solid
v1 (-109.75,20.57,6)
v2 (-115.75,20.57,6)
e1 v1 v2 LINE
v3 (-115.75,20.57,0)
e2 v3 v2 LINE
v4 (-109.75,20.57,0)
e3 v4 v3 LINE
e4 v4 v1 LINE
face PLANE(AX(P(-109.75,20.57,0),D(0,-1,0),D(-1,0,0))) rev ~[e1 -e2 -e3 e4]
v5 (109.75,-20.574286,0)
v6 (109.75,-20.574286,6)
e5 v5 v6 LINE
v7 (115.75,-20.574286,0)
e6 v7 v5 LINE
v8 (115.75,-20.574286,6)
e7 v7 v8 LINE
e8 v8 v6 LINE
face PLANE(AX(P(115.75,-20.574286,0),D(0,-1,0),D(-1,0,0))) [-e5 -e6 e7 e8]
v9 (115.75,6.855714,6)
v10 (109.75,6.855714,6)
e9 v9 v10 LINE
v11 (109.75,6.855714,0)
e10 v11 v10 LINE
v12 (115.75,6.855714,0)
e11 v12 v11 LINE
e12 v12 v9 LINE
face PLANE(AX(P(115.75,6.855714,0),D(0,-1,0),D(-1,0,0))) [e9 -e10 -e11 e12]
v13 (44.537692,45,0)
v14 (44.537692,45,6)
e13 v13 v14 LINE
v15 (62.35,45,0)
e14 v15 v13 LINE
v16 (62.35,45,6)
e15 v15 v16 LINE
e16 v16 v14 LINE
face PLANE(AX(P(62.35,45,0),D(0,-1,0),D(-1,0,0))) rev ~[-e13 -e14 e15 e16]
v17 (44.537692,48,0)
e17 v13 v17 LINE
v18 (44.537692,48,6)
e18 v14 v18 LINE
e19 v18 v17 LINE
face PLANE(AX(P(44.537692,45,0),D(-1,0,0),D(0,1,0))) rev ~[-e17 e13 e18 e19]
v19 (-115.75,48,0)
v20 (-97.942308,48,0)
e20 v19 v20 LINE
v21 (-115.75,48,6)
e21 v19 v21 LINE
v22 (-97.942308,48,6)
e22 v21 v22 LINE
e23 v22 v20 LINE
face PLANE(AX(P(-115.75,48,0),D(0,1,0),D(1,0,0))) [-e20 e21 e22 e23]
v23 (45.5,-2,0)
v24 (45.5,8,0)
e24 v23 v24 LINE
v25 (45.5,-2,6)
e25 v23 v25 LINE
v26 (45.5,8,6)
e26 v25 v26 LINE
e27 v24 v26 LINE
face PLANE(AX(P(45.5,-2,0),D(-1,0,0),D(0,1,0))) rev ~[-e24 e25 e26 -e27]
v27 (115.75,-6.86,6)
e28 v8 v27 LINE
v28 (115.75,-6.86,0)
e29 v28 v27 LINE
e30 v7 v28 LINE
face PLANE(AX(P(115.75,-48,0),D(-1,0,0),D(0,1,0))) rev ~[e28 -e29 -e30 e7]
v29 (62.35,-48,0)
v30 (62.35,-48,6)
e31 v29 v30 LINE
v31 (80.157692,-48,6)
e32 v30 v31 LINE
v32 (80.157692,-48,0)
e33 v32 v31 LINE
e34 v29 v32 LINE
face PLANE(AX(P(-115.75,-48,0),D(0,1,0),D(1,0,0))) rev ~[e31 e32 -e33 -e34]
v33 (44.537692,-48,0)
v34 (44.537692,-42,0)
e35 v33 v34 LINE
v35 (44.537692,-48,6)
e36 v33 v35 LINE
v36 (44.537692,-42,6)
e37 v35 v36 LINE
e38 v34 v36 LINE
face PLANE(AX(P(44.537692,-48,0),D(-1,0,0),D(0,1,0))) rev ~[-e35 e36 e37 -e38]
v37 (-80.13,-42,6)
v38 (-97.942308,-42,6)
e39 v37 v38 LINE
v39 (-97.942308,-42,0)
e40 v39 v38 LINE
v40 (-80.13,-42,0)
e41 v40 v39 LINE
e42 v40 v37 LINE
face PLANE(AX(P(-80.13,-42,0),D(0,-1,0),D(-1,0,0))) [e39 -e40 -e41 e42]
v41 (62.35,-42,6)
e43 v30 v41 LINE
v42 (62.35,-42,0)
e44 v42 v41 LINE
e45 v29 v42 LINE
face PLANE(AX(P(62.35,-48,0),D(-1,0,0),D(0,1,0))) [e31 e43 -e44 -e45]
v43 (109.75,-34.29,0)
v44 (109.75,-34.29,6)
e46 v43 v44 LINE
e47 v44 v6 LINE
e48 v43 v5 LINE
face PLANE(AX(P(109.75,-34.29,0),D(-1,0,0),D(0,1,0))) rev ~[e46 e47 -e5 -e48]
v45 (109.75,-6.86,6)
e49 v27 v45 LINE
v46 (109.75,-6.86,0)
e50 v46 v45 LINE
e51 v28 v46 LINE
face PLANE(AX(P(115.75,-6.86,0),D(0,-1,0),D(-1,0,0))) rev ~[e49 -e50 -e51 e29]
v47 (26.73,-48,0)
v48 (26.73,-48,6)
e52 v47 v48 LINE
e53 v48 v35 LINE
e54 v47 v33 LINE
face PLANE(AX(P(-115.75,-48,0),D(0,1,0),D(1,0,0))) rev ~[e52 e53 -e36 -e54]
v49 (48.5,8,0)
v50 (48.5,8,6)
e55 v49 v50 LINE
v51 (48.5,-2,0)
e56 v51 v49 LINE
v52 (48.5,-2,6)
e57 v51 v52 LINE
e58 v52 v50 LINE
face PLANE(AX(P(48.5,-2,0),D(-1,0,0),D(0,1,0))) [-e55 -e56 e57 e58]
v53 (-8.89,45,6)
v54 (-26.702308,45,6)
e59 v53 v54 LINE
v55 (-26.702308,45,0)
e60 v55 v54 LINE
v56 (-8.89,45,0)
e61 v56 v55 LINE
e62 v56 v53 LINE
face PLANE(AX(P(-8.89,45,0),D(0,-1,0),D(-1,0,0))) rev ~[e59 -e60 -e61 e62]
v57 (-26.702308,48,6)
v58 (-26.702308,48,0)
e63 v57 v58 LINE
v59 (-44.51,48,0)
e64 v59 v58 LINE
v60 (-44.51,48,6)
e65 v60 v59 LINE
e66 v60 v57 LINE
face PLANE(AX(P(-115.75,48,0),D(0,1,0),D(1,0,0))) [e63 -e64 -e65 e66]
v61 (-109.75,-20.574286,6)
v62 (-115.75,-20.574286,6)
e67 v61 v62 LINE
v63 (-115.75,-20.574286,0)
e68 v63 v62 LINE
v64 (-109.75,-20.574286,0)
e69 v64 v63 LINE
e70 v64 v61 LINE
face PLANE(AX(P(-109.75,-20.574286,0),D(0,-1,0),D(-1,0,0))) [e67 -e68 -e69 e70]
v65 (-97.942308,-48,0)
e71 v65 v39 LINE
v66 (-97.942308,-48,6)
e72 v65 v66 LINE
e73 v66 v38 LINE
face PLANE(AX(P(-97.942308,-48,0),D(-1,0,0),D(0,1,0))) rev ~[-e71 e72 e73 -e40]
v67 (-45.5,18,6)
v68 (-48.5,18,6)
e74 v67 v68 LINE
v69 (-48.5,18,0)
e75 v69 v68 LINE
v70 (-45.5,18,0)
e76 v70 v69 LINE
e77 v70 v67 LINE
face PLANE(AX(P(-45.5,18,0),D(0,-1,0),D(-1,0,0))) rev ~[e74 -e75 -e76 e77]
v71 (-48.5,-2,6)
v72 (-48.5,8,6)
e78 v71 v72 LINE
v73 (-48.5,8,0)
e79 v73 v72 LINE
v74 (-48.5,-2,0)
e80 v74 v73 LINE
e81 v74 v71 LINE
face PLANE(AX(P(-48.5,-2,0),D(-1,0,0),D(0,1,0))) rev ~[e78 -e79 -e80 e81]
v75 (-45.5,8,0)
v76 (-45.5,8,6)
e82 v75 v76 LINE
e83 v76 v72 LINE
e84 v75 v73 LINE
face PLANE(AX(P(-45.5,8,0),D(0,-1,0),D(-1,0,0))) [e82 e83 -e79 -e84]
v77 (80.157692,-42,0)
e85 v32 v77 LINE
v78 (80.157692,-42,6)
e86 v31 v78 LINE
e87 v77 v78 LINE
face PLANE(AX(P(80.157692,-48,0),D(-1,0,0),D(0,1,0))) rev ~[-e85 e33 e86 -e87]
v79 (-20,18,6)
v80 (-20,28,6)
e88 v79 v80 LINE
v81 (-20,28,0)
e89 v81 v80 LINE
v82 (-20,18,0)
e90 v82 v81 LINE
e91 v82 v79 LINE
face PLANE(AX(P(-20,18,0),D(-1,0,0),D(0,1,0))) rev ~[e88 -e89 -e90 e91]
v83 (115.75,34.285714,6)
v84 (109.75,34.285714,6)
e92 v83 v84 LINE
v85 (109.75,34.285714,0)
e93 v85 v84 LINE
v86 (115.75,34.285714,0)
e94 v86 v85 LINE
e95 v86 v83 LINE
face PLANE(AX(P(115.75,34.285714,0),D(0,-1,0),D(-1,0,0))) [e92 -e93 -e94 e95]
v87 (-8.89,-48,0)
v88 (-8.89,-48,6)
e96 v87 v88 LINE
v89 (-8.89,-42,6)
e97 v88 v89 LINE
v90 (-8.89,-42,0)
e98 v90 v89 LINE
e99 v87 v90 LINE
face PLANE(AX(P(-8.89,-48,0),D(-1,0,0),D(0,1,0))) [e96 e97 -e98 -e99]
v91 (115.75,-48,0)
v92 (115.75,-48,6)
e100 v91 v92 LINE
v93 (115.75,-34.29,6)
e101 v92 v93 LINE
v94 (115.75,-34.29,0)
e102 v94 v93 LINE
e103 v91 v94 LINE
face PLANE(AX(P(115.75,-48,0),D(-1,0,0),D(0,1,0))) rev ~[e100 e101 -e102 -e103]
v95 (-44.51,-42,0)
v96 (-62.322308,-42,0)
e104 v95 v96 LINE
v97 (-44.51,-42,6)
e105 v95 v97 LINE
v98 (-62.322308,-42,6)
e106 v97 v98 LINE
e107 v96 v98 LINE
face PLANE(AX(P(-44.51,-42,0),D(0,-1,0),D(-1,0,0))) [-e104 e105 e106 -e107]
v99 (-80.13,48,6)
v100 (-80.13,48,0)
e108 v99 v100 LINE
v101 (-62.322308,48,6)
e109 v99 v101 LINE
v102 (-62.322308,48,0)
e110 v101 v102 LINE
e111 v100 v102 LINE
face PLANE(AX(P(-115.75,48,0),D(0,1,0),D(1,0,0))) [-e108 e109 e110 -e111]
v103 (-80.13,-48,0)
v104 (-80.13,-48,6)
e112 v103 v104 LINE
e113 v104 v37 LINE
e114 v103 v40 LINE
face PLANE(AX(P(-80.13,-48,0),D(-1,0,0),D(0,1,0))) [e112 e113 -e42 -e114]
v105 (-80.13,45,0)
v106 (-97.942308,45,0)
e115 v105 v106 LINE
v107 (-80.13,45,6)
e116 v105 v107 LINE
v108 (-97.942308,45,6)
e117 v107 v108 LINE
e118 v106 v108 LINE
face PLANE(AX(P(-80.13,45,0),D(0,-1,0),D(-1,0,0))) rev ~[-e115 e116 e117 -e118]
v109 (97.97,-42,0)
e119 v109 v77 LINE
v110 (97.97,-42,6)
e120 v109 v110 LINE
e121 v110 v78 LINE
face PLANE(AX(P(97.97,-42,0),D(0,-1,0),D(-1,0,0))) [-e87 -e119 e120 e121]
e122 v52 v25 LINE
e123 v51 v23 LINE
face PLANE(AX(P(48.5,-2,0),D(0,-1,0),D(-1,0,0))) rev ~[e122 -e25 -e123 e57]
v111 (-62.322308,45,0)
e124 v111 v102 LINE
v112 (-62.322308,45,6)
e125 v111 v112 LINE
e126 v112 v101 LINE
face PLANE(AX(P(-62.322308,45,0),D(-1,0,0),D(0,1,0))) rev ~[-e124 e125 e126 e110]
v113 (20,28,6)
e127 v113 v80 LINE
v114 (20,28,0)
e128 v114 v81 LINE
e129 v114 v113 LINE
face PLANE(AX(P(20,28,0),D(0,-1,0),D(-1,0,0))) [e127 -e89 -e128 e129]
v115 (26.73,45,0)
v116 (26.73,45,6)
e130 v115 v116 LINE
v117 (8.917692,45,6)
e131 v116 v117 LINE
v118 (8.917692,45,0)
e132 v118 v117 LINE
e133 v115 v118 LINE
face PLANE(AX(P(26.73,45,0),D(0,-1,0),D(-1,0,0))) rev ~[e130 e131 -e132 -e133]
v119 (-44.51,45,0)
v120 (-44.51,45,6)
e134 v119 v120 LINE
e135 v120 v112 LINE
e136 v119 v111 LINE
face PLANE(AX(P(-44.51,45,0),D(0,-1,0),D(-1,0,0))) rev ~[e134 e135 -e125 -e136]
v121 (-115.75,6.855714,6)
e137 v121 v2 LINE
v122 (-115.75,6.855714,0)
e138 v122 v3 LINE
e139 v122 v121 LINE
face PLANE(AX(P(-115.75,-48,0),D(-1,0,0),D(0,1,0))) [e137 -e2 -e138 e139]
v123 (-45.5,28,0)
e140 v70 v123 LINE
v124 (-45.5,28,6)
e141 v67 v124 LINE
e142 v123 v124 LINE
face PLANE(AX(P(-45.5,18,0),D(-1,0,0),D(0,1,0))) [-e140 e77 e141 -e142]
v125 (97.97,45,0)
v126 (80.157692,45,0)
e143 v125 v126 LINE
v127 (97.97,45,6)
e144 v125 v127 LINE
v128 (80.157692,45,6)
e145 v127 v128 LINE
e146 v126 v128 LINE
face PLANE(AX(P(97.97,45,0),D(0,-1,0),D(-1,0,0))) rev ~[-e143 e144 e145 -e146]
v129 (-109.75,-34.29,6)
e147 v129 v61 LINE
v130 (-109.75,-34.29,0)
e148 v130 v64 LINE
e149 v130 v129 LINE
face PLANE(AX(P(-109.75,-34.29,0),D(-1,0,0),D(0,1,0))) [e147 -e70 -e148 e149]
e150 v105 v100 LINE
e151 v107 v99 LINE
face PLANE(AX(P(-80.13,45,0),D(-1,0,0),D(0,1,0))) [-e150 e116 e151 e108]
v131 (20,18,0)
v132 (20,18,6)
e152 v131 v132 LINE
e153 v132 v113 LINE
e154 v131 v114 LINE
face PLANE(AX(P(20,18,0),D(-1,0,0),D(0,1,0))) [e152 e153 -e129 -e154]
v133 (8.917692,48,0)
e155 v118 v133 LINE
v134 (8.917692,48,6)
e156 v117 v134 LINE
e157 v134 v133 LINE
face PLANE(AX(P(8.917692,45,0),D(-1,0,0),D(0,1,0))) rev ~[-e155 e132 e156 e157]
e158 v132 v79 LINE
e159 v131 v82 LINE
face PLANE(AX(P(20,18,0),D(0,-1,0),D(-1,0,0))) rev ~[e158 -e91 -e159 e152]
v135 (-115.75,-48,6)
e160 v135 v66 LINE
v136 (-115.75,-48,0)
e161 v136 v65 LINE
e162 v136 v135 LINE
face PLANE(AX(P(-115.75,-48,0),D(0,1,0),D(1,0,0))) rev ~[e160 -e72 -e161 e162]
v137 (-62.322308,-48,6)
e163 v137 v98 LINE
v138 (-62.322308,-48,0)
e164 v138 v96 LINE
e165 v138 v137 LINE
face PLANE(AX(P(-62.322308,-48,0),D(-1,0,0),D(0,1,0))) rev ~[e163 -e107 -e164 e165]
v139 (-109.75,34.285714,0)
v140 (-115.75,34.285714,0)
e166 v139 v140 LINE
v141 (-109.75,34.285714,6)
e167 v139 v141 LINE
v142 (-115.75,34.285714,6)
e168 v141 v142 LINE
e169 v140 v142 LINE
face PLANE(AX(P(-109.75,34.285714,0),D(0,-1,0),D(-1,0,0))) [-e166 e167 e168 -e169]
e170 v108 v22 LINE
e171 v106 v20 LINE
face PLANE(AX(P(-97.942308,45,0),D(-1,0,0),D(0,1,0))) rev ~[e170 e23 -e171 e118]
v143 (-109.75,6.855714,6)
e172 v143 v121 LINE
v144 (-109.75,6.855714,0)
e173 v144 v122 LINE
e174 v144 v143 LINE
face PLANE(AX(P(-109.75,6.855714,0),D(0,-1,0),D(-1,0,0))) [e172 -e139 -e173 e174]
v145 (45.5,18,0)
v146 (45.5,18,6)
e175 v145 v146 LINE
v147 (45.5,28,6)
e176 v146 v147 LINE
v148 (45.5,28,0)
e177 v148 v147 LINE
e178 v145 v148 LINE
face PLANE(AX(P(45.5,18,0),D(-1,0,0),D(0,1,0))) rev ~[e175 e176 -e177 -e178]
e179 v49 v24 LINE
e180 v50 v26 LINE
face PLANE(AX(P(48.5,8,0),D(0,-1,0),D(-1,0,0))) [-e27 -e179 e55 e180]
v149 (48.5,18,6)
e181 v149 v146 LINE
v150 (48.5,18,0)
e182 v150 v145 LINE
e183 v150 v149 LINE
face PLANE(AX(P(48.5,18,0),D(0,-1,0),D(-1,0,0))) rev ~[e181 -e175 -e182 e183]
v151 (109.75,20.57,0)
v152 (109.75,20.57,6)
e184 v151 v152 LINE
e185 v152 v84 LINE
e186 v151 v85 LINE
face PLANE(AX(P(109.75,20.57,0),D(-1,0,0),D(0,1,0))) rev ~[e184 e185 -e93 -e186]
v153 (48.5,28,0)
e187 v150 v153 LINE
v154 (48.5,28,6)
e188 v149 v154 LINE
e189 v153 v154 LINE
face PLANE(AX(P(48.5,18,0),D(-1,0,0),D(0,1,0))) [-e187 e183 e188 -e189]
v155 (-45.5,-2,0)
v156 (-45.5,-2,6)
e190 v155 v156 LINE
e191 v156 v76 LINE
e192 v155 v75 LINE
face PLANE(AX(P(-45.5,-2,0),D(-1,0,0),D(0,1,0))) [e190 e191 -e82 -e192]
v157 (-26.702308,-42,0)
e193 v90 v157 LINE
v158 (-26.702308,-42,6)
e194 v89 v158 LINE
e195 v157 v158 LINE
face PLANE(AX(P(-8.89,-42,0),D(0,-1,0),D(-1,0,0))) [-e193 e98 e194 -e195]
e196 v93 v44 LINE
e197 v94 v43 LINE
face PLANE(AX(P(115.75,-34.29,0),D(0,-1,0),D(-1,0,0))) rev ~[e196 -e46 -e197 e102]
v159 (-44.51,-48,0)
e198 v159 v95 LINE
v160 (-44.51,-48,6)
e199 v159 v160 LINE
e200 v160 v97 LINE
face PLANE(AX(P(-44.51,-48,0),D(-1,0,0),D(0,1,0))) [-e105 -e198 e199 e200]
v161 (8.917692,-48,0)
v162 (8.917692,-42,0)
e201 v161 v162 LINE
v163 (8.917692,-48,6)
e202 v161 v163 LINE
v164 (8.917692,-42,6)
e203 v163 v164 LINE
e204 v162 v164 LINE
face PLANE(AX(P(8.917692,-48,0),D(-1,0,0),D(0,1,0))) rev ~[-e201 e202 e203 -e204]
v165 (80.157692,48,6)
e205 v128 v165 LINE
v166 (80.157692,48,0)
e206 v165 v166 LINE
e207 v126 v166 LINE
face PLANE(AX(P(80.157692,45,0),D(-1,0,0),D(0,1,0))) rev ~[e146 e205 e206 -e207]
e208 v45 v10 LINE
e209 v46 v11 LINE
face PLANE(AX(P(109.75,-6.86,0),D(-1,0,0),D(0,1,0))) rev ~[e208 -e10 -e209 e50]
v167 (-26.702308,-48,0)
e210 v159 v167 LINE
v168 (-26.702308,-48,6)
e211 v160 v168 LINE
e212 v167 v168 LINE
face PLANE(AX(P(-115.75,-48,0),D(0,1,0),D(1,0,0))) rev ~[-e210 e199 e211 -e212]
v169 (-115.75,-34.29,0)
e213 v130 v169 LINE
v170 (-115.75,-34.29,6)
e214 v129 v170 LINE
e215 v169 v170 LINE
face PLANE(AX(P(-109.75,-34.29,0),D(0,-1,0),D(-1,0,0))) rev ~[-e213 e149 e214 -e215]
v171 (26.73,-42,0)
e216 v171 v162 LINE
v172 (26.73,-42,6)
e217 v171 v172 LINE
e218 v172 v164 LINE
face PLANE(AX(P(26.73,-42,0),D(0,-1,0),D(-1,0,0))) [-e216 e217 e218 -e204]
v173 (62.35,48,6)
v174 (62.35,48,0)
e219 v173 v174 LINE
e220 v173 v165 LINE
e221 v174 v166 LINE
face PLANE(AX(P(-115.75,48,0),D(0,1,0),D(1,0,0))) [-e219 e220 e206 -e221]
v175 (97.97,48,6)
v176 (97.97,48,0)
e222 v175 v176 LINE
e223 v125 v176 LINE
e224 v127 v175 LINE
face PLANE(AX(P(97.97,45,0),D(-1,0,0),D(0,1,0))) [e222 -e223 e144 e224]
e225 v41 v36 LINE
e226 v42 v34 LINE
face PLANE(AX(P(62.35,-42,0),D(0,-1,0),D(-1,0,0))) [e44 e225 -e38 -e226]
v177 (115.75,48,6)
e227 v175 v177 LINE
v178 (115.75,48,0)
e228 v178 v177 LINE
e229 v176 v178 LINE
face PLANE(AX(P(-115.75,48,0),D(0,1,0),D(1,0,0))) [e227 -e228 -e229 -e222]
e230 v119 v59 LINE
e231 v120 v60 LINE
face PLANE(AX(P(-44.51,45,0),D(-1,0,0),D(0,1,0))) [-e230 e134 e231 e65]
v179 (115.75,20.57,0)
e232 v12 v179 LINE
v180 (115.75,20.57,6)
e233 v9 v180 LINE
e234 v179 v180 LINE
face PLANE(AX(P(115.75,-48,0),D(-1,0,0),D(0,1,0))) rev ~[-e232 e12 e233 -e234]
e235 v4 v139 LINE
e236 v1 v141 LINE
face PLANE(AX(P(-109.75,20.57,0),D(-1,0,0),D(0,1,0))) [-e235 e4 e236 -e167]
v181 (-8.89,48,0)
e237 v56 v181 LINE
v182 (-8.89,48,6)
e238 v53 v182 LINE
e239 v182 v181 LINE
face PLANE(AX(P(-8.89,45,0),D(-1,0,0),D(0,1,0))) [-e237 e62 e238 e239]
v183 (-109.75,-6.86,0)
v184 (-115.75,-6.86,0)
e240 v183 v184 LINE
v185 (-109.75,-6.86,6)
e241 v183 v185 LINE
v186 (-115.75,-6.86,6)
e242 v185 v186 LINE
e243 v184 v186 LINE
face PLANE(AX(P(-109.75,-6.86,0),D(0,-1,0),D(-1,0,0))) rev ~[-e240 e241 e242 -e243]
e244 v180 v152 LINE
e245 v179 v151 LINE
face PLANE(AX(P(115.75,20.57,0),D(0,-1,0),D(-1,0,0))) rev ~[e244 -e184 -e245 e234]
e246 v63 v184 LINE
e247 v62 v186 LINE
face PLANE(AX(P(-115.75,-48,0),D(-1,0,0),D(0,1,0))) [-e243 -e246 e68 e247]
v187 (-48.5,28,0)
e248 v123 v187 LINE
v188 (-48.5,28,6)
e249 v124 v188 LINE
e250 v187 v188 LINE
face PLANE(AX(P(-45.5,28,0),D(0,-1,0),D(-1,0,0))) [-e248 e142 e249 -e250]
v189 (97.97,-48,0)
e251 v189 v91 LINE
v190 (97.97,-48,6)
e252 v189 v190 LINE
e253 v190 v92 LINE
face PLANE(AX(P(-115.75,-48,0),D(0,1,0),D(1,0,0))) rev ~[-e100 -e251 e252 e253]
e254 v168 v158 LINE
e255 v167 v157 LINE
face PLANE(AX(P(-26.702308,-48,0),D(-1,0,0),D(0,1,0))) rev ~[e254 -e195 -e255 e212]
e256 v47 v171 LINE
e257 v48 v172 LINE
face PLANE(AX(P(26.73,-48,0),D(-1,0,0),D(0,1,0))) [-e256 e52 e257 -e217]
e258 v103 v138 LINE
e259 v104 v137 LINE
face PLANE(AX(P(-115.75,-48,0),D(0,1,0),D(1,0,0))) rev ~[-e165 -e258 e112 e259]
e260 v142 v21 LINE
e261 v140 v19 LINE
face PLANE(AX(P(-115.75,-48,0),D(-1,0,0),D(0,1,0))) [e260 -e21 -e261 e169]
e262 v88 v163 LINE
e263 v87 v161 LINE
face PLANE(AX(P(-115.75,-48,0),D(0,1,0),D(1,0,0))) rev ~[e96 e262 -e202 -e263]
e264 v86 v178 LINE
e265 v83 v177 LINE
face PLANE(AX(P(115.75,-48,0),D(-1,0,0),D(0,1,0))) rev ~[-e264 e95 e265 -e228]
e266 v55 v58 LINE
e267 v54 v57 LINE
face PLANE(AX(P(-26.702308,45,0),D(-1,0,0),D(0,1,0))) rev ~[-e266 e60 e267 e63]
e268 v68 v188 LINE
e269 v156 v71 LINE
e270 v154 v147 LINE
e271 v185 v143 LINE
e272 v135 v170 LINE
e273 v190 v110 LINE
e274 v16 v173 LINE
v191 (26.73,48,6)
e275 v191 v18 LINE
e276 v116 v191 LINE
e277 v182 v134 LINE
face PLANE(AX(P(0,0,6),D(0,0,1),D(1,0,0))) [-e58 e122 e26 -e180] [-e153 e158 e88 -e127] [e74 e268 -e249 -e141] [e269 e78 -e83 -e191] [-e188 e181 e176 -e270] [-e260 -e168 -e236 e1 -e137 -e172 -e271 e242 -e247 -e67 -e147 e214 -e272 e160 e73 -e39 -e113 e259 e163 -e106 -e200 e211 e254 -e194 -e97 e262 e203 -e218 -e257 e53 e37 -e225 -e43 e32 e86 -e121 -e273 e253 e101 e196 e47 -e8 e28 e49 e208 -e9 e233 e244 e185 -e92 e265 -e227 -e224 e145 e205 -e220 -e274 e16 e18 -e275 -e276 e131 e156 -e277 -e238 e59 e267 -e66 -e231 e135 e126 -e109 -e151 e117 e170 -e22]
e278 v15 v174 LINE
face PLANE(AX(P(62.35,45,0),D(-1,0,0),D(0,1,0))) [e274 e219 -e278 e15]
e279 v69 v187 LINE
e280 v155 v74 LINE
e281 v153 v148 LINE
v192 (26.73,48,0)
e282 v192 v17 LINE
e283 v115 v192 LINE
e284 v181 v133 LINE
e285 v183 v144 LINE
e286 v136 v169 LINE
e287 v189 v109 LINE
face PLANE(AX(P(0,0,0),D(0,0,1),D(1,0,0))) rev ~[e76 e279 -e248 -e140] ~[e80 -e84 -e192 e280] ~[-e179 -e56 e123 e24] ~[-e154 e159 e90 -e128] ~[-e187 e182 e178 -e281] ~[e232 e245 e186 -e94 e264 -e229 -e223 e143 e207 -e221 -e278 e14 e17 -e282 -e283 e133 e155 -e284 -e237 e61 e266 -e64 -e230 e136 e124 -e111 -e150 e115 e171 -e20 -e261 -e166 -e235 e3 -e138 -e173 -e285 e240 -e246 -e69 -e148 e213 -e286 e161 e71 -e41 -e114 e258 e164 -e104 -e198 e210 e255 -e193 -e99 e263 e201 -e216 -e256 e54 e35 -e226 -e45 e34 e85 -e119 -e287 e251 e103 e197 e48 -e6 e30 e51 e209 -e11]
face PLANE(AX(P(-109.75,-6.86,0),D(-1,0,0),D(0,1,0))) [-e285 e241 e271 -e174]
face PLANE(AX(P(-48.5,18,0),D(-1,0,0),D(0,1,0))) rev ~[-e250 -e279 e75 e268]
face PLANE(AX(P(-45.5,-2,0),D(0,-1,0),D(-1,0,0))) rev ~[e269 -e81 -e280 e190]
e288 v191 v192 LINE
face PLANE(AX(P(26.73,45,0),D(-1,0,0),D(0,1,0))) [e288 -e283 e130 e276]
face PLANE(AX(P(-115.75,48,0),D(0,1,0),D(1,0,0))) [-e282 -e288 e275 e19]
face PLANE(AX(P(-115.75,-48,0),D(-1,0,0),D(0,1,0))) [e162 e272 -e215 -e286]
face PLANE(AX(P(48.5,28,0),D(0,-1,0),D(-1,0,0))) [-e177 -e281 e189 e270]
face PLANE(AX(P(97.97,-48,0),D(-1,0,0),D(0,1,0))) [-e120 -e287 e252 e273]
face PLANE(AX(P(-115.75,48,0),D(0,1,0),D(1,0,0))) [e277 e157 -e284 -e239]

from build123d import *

# Parameters (mm, degrees)
ESBO_O1_W                = 231.5
ESBO_O1_H                = 96
RESSALTO_EXTRUS_O1_DEPTH = 6
CORTE_EXTRUS_O1_REACH    = 127.451
ESBO_O2_W                = 17.812307692
ESBO_O2_H                = 6
CORTE_EXTRUS_O3_REACH    = 127.451
ESBO_O4_W                = 6
ESBO_O4_H                = 13.715714286
CORTE_EXTRUS_O4_REACH    = 127.451
ESBO_O5_W                = 40
ESBO_O5_H                = 10
CORTE_EXTRUS_O5_REACH    = 127.451
ESBO_O6_W                = 3
ESBO_O6_H                = 10


with BuildPart() as part:
    # Esboço1 → Ressalto-extrusão1 (new body)
    with BuildSketch(Plane.XY):
        Rectangle(ESBO_O1_W, ESBO_O1_H)
    extrude(amount=RESSALTO_EXTRUS_O1_DEPTH)

    # Esboço2 → Corte-extrusão1 (cut, up to next)
    with BuildSketch(Plane(origin=(0, 0, 0), x_dir=(-1, 0, 0), z_dir=(0, 0, -1)), mode=Mode.PRIVATE) as corte_extrus_o1_sk1:
        with Locations((17.796153846, -45)):
            Rectangle(ESBO_O2_W, ESBO_O2_H)
    corte_extrus_o1_tool1 = extrude(corte_extrus_o1_sk1.sketch, amount=-CORTE_EXTRUS_O1_REACH, mode=Mode.PRIVATE) & part.part
    # Esboço2 → Corte-extrusão1 (cut, up to next)
    with BuildSketch(Plane(origin=(0, 0, 0), x_dir=(-1, 0, 0), z_dir=(0, 0, -1)), mode=Mode.PRIVATE) as corte_extrus_o1_sk2:
        with Locations((53.416153846, -45)):
            Rectangle(ESBO_O2_W, ESBO_O2_H)
    corte_extrus_o1_tool2 = extrude(corte_extrus_o1_sk2.sketch, amount=-CORTE_EXTRUS_O1_REACH, mode=Mode.PRIVATE) & part.part
    # Esboço2 → Corte-extrusão1 (cut, up to next)
    with BuildSketch(Plane(origin=(0, 0, 0), x_dir=(-1, 0, 0), z_dir=(0, 0, -1)), mode=Mode.PRIVATE) as corte_extrus_o1_sk3:
        with Locations((89.036153846, -45)):
            Rectangle(ESBO_O2_W, ESBO_O2_H)
    corte_extrus_o1_tool3 = extrude(corte_extrus_o1_sk3.sketch, amount=-CORTE_EXTRUS_O1_REACH, mode=Mode.PRIVATE) & part.part
    # Esboço2 → Corte-extrusão1 (cut, up to next)
    with BuildSketch(Plane(origin=(0, 0, 0), x_dir=(-1, 0, 0), z_dir=(0, 0, -1)), mode=Mode.PRIVATE) as corte_extrus_o1_sk4:
        with Locations((-17.823846154, -45)):
            Rectangle(ESBO_O2_W, ESBO_O2_H)
    corte_extrus_o1_tool4 = extrude(corte_extrus_o1_sk4.sketch, amount=-CORTE_EXTRUS_O1_REACH, mode=Mode.PRIVATE) & part.part
    # Esboço2 → Corte-extrusão1 (cut, up to next)
    with BuildSketch(Plane(origin=(0, 0, 0), x_dir=(-1, 0, 0), z_dir=(0, 0, -1)), mode=Mode.PRIVATE) as corte_extrus_o1_sk5:
        with Locations((-53.443846154, -45)):
            Rectangle(ESBO_O2_W, ESBO_O2_H)
    corte_extrus_o1_tool5 = extrude(corte_extrus_o1_sk5.sketch, amount=-CORTE_EXTRUS_O1_REACH, mode=Mode.PRIVATE) & part.part
    # Esboço2 → Corte-extrusão1 (cut, up to next)
    with BuildSketch(Plane(origin=(0, 0, 0), x_dir=(-1, 0, 0), z_dir=(0, 0, -1)), mode=Mode.PRIVATE) as corte_extrus_o1_sk6:
        with Locations((-89.063846154, -45)):
            Rectangle(ESBO_O2_W, ESBO_O2_H)
    corte_extrus_o1_tool6 = extrude(corte_extrus_o1_sk6.sketch, amount=-CORTE_EXTRUS_O1_REACH, mode=Mode.PRIVATE) & part.part
    # Esboço2 → Corte-extrusão1 (cut, up to next)
    with BuildSketch(Plane(origin=(0, 0, 0), x_dir=(-1, 0, 0), z_dir=(0, 0, -1)), mode=Mode.PRIVATE) as corte_extrus_o1_sk7:
        with Locations((-89.063846154, 48)):
            Rectangle(ESBO_O2_W, ESBO_O2_H)
    corte_extrus_o1_tool7 = extrude(corte_extrus_o1_sk7.sketch, amount=-CORTE_EXTRUS_O1_REACH, mode=Mode.PRIVATE) & part.part
    # Esboço2 → Corte-extrusão1 (cut, up to next)
    with BuildSketch(Plane(origin=(0, 0, 0), x_dir=(-1, 0, 0), z_dir=(0, 0, -1)), mode=Mode.PRIVATE) as corte_extrus_o1_sk8:
        with Locations((-53.443846154, 48)):
            Rectangle(ESBO_O2_W, ESBO_O2_H)
    corte_extrus_o1_tool8 = extrude(corte_extrus_o1_sk8.sketch, amount=-CORTE_EXTRUS_O1_REACH, mode=Mode.PRIVATE) & part.part
    # Esboço2 → Corte-extrusão1 (cut, up to next)
    with BuildSketch(Plane(origin=(0, 0, 0), x_dir=(-1, 0, 0), z_dir=(0, 0, -1)), mode=Mode.PRIVATE) as corte_extrus_o1_sk9:
        with Locations((-17.823846154, 48)):
            Rectangle(ESBO_O2_W, ESBO_O2_H)
    corte_extrus_o1_tool9 = extrude(corte_extrus_o1_sk9.sketch, amount=-CORTE_EXTRUS_O1_REACH, mode=Mode.PRIVATE) & part.part
    # Esboço2 → Corte-extrusão1 (cut, up to next)
    with BuildSketch(Plane(origin=(0, 0, 0), x_dir=(-1, 0, 0), z_dir=(0, 0, -1)), mode=Mode.PRIVATE) as corte_extrus_o1_sk10:
        with Locations((17.796153846, 48)):
            Rectangle(ESBO_O2_W, ESBO_O2_H)
    corte_extrus_o1_tool10 = extrude(corte_extrus_o1_sk10.sketch, amount=-CORTE_EXTRUS_O1_REACH, mode=Mode.PRIVATE) & part.part
    # Esboço2 → Corte-extrusão1 (cut, up to next)
    with BuildSketch(Plane(origin=(0, 0, 0), x_dir=(-1, 0, 0), z_dir=(0, 0, -1)), mode=Mode.PRIVATE) as corte_extrus_o1_sk11:
        with Locations((89.036153846, 48)):
            Rectangle(ESBO_O2_W, ESBO_O2_H)
    corte_extrus_o1_tool11 = extrude(corte_extrus_o1_sk11.sketch, amount=-CORTE_EXTRUS_O1_REACH, mode=Mode.PRIVATE) & part.part
    # Esboço2 → Corte-extrusão1 (cut, up to next)
    with BuildSketch(Plane(origin=(0, 0, 0), x_dir=(-1, 0, 0), z_dir=(0, 0, -1)), mode=Mode.PRIVATE) as corte_extrus_o1_sk12:
        with Locations((53.416153846, 48)):
            Rectangle(ESBO_O2_W, ESBO_O2_H)
    corte_extrus_o1_tool12 = extrude(corte_extrus_o1_sk12.sketch, amount=-CORTE_EXTRUS_O1_REACH, mode=Mode.PRIVATE) & part.part
    add(corte_extrus_o1_tool1.solids().sort_by_distance((-17.796154, -45, 0))[0], mode=Mode.SUBTRACT)
    add(corte_extrus_o1_tool2.solids().sort_by_distance((-53.416154, -45, 0))[0], mode=Mode.SUBTRACT)
    add(corte_extrus_o1_tool3.solids().sort_by_distance((-89.036154, -45, 0))[0], mode=Mode.SUBTRACT)
    add(corte_extrus_o1_tool4.solids().sort_by_distance((17.823846, -45, 0))[0], mode=Mode.SUBTRACT)
    add(corte_extrus_o1_tool5.solids().sort_by_distance((53.443846, -45, 0))[0], mode=Mode.SUBTRACT)
    add(corte_extrus_o1_tool6.solids().sort_by_distance((89.063846, -45, 0))[0], mode=Mode.SUBTRACT)
    add(corte_extrus_o1_tool7.solids().sort_by_distance((89.063846, 48, 0))[0], mode=Mode.SUBTRACT)
    add(corte_extrus_o1_tool8.solids().sort_by_distance((53.443846, 48, 0))[0], mode=Mode.SUBTRACT)
    add(corte_extrus_o1_tool9.solids().sort_by_distance((17.823846, 48, 0))[0], mode=Mode.SUBTRACT)
    add(corte_extrus_o1_tool10.solids().sort_by_distance((-17.796154, 48, 0))[0], mode=Mode.SUBTRACT)
    add(corte_extrus_o1_tool11.solids().sort_by_distance((-89.036154, 48, 0))[0], mode=Mode.SUBTRACT)
    add(corte_extrus_o1_tool12.solids().sort_by_distance((-53.416154, 48, 0))[0], mode=Mode.SUBTRACT)

    # Esboço4 → Corte-extrusão3 (cut, up to next)
    with BuildSketch(Plane(origin=(0, 0, 0), x_dir=(-1, 0, 0), z_dir=(0, 0, -1)), mode=Mode.PRIVATE) as corte_extrus_o3_sk1:
        with Locations((112.75, -0.002142857)):
            Rectangle(ESBO_O4_W, ESBO_O4_H)
    corte_extrus_o3_tool1 = extrude(corte_extrus_o3_sk1.sketch, amount=-CORTE_EXTRUS_O3_REACH, mode=Mode.PRIVATE) & part.part
    # Esboço4 → Corte-extrusão3 (cut, up to next)
    with BuildSketch(Plane(origin=(0, 0, 0), x_dir=(-1, 0, 0), z_dir=(0, 0, -1)), mode=Mode.PRIVATE) as corte_extrus_o3_sk2:
        with Locations((112.75, 27.427857143)):
            Rectangle(ESBO_O4_W, ESBO_O4_H)
    corte_extrus_o3_tool2 = extrude(corte_extrus_o3_sk2.sketch, amount=-CORTE_EXTRUS_O3_REACH, mode=Mode.PRIVATE) & part.part
    # Esboço4 → Corte-extrusão3 (cut, up to next)
    with BuildSketch(Plane(origin=(0, 0, 0), x_dir=(-1, 0, 0), z_dir=(0, 0, -1)), mode=Mode.PRIVATE) as corte_extrus_o3_sk3:
        with Locations((-112.75, 27.427857143)):
            Rectangle(ESBO_O4_W, ESBO_O4_H)
    corte_extrus_o3_tool3 = extrude(corte_extrus_o3_sk3.sketch, amount=-CORTE_EXTRUS_O3_REACH, mode=Mode.PRIVATE) & part.part
    # Esboço4 → Corte-extrusão3 (cut, up to next)
    with BuildSketch(Plane(origin=(0, 0, 0), x_dir=(-1, 0, 0), z_dir=(0, 0, -1)), mode=Mode.PRIVATE) as corte_extrus_o3_sk4:
        with Locations((-112.75, -0.002142857)):
            Rectangle(ESBO_O4_W, ESBO_O4_H)
    corte_extrus_o3_tool4 = extrude(corte_extrus_o3_sk4.sketch, amount=-CORTE_EXTRUS_O3_REACH, mode=Mode.PRIVATE) & part.part
    # Esboço4 → Corte-extrusão3 (cut, up to next)
    with BuildSketch(Plane(origin=(0, 0, 0), x_dir=(-1, 0, 0), z_dir=(0, 0, -1)), mode=Mode.PRIVATE) as corte_extrus_o3_sk5:
        with Locations((-112.75, -27.432142857)):
            Rectangle(ESBO_O4_W, ESBO_O4_H)
    corte_extrus_o3_tool5 = extrude(corte_extrus_o3_sk5.sketch, amount=-CORTE_EXTRUS_O3_REACH, mode=Mode.PRIVATE) & part.part
    # Esboço4 → Corte-extrusão3 (cut, up to next)
    with BuildSketch(Plane(origin=(0, 0, 0), x_dir=(-1, 0, 0), z_dir=(0, 0, -1)), mode=Mode.PRIVATE) as corte_extrus_o3_sk6:
        with Locations((112.75, -27.432142857)):
            Rectangle(ESBO_O4_W, ESBO_O4_H)
    corte_extrus_o3_tool6 = extrude(corte_extrus_o3_sk6.sketch, amount=-CORTE_EXTRUS_O3_REACH, mode=Mode.PRIVATE) & part.part
    add(corte_extrus_o3_tool1.solids().sort_by_distance((-112.75, -0.002143, 0))[0], mode=Mode.SUBTRACT)
    add(corte_extrus_o3_tool2.solids().sort_by_distance((-112.75, 27.427857, 0))[0], mode=Mode.SUBTRACT)
    add(corte_extrus_o3_tool3.solids().sort_by_distance((112.75, 27.427857, 0))[0], mode=Mode.SUBTRACT)
    add(corte_extrus_o3_tool4.solids().sort_by_distance((112.75, -0.002143, 0))[0], mode=Mode.SUBTRACT)
    add(corte_extrus_o3_tool5.solids().sort_by_distance((112.75, -27.432143, 0))[0], mode=Mode.SUBTRACT)
    add(corte_extrus_o3_tool6.solids().sort_by_distance((-112.75, -27.432143, 0))[0], mode=Mode.SUBTRACT)

    # Esboço5 → Corte-extrusão4 (cut, up to next)
    with BuildSketch(Plane(origin=(0, 0, 0), x_dir=(-1, 0, 0), z_dir=(0, 0, -1)), mode=Mode.PRIVATE) as corte_extrus_o4_sk1:
        with Locations((0, 23)):
            Rectangle(ESBO_O5_W, ESBO_O5_H)
    corte_extrus_o4_tool1 = extrude(corte_extrus_o4_sk1.sketch, amount=-CORTE_EXTRUS_O4_REACH, mode=Mode.PRIVATE) & part.part
    add(corte_extrus_o4_tool1.solids().sort_by_distance((0, 23, 0))[0], mode=Mode.SUBTRACT)

    # Esboço6 → Corte-extrusão5 (cut, up to next)
    with BuildSketch(Plane(origin=(0, 0, 0), x_dir=(-1, 0, 0), z_dir=(0, 0, -1)), mode=Mode.PRIVATE) as corte_extrus_o5_sk1:
        with Locations((47, 23)):
            Rectangle(ESBO_O6_W, ESBO_O6_H)
    corte_extrus_o5_tool1 = extrude(corte_extrus_o5_sk1.sketch, amount=-CORTE_EXTRUS_O5_REACH, mode=Mode.PRIVATE) & part.part
    # Esboço6 → Corte-extrusão5 (cut, up to next)
    with BuildSketch(Plane(origin=(0, 0, 0), x_dir=(-1, 0, 0), z_dir=(0, 0, -1)), mode=Mode.PRIVATE) as corte_extrus_o5_sk2:
        with Locations((-47, 23)):
            Rectangle(ESBO_O6_W, ESBO_O6_H)
    corte_extrus_o5_tool2 = extrude(corte_extrus_o5_sk2.sketch, amount=-CORTE_EXTRUS_O5_REACH, mode=Mode.PRIVATE) & part.part
    # Esboço6 → Corte-extrusão5 (cut, up to next)
    with BuildSketch(Plane(origin=(0, 0, 0), x_dir=(-1, 0, 0), z_dir=(0, 0, -1)), mode=Mode.PRIVATE) as corte_extrus_o5_sk3:
        with Locations((-47, 3)):
            Rectangle(ESBO_O6_W, ESBO_O6_H)
    corte_extrus_o5_tool3 = extrude(corte_extrus_o5_sk3.sketch, amount=-CORTE_EXTRUS_O5_REACH, mode=Mode.PRIVATE) & part.part
    # Esboço6 → Corte-extrusão5 (cut, up to next)
    with BuildSketch(Plane(origin=(0, 0, 0), x_dir=(-1, 0, 0), z_dir=(0, 0, -1)), mode=Mode.PRIVATE) as corte_extrus_o5_sk4:
        with Locations((47, 3)):
            Rectangle(ESBO_O6_W, ESBO_O6_H)
    corte_extrus_o5_tool4 = extrude(corte_extrus_o5_sk4.sketch, amount=-CORTE_EXTRUS_O5_REACH, mode=Mode.PRIVATE) & part.part
    add(corte_extrus_o5_tool1.solids().sort_by_distance((-47, 23, 0))[0], mode=Mode.SUBTRACT)
    add(corte_extrus_o5_tool2.solids().sort_by_distance((47, 23, 0))[0], mode=Mode.SUBTRACT)
    add(corte_extrus_o5_tool3.solids().sort_by_distance((47, 3, 0))[0], mode=Mode.SUBTRACT)
    add(corte_extrus_o5_tool4.solids().sort_by_distance((-47, 3, 0))[0], mode=Mode.SUBTRACT)


solid = part.part
